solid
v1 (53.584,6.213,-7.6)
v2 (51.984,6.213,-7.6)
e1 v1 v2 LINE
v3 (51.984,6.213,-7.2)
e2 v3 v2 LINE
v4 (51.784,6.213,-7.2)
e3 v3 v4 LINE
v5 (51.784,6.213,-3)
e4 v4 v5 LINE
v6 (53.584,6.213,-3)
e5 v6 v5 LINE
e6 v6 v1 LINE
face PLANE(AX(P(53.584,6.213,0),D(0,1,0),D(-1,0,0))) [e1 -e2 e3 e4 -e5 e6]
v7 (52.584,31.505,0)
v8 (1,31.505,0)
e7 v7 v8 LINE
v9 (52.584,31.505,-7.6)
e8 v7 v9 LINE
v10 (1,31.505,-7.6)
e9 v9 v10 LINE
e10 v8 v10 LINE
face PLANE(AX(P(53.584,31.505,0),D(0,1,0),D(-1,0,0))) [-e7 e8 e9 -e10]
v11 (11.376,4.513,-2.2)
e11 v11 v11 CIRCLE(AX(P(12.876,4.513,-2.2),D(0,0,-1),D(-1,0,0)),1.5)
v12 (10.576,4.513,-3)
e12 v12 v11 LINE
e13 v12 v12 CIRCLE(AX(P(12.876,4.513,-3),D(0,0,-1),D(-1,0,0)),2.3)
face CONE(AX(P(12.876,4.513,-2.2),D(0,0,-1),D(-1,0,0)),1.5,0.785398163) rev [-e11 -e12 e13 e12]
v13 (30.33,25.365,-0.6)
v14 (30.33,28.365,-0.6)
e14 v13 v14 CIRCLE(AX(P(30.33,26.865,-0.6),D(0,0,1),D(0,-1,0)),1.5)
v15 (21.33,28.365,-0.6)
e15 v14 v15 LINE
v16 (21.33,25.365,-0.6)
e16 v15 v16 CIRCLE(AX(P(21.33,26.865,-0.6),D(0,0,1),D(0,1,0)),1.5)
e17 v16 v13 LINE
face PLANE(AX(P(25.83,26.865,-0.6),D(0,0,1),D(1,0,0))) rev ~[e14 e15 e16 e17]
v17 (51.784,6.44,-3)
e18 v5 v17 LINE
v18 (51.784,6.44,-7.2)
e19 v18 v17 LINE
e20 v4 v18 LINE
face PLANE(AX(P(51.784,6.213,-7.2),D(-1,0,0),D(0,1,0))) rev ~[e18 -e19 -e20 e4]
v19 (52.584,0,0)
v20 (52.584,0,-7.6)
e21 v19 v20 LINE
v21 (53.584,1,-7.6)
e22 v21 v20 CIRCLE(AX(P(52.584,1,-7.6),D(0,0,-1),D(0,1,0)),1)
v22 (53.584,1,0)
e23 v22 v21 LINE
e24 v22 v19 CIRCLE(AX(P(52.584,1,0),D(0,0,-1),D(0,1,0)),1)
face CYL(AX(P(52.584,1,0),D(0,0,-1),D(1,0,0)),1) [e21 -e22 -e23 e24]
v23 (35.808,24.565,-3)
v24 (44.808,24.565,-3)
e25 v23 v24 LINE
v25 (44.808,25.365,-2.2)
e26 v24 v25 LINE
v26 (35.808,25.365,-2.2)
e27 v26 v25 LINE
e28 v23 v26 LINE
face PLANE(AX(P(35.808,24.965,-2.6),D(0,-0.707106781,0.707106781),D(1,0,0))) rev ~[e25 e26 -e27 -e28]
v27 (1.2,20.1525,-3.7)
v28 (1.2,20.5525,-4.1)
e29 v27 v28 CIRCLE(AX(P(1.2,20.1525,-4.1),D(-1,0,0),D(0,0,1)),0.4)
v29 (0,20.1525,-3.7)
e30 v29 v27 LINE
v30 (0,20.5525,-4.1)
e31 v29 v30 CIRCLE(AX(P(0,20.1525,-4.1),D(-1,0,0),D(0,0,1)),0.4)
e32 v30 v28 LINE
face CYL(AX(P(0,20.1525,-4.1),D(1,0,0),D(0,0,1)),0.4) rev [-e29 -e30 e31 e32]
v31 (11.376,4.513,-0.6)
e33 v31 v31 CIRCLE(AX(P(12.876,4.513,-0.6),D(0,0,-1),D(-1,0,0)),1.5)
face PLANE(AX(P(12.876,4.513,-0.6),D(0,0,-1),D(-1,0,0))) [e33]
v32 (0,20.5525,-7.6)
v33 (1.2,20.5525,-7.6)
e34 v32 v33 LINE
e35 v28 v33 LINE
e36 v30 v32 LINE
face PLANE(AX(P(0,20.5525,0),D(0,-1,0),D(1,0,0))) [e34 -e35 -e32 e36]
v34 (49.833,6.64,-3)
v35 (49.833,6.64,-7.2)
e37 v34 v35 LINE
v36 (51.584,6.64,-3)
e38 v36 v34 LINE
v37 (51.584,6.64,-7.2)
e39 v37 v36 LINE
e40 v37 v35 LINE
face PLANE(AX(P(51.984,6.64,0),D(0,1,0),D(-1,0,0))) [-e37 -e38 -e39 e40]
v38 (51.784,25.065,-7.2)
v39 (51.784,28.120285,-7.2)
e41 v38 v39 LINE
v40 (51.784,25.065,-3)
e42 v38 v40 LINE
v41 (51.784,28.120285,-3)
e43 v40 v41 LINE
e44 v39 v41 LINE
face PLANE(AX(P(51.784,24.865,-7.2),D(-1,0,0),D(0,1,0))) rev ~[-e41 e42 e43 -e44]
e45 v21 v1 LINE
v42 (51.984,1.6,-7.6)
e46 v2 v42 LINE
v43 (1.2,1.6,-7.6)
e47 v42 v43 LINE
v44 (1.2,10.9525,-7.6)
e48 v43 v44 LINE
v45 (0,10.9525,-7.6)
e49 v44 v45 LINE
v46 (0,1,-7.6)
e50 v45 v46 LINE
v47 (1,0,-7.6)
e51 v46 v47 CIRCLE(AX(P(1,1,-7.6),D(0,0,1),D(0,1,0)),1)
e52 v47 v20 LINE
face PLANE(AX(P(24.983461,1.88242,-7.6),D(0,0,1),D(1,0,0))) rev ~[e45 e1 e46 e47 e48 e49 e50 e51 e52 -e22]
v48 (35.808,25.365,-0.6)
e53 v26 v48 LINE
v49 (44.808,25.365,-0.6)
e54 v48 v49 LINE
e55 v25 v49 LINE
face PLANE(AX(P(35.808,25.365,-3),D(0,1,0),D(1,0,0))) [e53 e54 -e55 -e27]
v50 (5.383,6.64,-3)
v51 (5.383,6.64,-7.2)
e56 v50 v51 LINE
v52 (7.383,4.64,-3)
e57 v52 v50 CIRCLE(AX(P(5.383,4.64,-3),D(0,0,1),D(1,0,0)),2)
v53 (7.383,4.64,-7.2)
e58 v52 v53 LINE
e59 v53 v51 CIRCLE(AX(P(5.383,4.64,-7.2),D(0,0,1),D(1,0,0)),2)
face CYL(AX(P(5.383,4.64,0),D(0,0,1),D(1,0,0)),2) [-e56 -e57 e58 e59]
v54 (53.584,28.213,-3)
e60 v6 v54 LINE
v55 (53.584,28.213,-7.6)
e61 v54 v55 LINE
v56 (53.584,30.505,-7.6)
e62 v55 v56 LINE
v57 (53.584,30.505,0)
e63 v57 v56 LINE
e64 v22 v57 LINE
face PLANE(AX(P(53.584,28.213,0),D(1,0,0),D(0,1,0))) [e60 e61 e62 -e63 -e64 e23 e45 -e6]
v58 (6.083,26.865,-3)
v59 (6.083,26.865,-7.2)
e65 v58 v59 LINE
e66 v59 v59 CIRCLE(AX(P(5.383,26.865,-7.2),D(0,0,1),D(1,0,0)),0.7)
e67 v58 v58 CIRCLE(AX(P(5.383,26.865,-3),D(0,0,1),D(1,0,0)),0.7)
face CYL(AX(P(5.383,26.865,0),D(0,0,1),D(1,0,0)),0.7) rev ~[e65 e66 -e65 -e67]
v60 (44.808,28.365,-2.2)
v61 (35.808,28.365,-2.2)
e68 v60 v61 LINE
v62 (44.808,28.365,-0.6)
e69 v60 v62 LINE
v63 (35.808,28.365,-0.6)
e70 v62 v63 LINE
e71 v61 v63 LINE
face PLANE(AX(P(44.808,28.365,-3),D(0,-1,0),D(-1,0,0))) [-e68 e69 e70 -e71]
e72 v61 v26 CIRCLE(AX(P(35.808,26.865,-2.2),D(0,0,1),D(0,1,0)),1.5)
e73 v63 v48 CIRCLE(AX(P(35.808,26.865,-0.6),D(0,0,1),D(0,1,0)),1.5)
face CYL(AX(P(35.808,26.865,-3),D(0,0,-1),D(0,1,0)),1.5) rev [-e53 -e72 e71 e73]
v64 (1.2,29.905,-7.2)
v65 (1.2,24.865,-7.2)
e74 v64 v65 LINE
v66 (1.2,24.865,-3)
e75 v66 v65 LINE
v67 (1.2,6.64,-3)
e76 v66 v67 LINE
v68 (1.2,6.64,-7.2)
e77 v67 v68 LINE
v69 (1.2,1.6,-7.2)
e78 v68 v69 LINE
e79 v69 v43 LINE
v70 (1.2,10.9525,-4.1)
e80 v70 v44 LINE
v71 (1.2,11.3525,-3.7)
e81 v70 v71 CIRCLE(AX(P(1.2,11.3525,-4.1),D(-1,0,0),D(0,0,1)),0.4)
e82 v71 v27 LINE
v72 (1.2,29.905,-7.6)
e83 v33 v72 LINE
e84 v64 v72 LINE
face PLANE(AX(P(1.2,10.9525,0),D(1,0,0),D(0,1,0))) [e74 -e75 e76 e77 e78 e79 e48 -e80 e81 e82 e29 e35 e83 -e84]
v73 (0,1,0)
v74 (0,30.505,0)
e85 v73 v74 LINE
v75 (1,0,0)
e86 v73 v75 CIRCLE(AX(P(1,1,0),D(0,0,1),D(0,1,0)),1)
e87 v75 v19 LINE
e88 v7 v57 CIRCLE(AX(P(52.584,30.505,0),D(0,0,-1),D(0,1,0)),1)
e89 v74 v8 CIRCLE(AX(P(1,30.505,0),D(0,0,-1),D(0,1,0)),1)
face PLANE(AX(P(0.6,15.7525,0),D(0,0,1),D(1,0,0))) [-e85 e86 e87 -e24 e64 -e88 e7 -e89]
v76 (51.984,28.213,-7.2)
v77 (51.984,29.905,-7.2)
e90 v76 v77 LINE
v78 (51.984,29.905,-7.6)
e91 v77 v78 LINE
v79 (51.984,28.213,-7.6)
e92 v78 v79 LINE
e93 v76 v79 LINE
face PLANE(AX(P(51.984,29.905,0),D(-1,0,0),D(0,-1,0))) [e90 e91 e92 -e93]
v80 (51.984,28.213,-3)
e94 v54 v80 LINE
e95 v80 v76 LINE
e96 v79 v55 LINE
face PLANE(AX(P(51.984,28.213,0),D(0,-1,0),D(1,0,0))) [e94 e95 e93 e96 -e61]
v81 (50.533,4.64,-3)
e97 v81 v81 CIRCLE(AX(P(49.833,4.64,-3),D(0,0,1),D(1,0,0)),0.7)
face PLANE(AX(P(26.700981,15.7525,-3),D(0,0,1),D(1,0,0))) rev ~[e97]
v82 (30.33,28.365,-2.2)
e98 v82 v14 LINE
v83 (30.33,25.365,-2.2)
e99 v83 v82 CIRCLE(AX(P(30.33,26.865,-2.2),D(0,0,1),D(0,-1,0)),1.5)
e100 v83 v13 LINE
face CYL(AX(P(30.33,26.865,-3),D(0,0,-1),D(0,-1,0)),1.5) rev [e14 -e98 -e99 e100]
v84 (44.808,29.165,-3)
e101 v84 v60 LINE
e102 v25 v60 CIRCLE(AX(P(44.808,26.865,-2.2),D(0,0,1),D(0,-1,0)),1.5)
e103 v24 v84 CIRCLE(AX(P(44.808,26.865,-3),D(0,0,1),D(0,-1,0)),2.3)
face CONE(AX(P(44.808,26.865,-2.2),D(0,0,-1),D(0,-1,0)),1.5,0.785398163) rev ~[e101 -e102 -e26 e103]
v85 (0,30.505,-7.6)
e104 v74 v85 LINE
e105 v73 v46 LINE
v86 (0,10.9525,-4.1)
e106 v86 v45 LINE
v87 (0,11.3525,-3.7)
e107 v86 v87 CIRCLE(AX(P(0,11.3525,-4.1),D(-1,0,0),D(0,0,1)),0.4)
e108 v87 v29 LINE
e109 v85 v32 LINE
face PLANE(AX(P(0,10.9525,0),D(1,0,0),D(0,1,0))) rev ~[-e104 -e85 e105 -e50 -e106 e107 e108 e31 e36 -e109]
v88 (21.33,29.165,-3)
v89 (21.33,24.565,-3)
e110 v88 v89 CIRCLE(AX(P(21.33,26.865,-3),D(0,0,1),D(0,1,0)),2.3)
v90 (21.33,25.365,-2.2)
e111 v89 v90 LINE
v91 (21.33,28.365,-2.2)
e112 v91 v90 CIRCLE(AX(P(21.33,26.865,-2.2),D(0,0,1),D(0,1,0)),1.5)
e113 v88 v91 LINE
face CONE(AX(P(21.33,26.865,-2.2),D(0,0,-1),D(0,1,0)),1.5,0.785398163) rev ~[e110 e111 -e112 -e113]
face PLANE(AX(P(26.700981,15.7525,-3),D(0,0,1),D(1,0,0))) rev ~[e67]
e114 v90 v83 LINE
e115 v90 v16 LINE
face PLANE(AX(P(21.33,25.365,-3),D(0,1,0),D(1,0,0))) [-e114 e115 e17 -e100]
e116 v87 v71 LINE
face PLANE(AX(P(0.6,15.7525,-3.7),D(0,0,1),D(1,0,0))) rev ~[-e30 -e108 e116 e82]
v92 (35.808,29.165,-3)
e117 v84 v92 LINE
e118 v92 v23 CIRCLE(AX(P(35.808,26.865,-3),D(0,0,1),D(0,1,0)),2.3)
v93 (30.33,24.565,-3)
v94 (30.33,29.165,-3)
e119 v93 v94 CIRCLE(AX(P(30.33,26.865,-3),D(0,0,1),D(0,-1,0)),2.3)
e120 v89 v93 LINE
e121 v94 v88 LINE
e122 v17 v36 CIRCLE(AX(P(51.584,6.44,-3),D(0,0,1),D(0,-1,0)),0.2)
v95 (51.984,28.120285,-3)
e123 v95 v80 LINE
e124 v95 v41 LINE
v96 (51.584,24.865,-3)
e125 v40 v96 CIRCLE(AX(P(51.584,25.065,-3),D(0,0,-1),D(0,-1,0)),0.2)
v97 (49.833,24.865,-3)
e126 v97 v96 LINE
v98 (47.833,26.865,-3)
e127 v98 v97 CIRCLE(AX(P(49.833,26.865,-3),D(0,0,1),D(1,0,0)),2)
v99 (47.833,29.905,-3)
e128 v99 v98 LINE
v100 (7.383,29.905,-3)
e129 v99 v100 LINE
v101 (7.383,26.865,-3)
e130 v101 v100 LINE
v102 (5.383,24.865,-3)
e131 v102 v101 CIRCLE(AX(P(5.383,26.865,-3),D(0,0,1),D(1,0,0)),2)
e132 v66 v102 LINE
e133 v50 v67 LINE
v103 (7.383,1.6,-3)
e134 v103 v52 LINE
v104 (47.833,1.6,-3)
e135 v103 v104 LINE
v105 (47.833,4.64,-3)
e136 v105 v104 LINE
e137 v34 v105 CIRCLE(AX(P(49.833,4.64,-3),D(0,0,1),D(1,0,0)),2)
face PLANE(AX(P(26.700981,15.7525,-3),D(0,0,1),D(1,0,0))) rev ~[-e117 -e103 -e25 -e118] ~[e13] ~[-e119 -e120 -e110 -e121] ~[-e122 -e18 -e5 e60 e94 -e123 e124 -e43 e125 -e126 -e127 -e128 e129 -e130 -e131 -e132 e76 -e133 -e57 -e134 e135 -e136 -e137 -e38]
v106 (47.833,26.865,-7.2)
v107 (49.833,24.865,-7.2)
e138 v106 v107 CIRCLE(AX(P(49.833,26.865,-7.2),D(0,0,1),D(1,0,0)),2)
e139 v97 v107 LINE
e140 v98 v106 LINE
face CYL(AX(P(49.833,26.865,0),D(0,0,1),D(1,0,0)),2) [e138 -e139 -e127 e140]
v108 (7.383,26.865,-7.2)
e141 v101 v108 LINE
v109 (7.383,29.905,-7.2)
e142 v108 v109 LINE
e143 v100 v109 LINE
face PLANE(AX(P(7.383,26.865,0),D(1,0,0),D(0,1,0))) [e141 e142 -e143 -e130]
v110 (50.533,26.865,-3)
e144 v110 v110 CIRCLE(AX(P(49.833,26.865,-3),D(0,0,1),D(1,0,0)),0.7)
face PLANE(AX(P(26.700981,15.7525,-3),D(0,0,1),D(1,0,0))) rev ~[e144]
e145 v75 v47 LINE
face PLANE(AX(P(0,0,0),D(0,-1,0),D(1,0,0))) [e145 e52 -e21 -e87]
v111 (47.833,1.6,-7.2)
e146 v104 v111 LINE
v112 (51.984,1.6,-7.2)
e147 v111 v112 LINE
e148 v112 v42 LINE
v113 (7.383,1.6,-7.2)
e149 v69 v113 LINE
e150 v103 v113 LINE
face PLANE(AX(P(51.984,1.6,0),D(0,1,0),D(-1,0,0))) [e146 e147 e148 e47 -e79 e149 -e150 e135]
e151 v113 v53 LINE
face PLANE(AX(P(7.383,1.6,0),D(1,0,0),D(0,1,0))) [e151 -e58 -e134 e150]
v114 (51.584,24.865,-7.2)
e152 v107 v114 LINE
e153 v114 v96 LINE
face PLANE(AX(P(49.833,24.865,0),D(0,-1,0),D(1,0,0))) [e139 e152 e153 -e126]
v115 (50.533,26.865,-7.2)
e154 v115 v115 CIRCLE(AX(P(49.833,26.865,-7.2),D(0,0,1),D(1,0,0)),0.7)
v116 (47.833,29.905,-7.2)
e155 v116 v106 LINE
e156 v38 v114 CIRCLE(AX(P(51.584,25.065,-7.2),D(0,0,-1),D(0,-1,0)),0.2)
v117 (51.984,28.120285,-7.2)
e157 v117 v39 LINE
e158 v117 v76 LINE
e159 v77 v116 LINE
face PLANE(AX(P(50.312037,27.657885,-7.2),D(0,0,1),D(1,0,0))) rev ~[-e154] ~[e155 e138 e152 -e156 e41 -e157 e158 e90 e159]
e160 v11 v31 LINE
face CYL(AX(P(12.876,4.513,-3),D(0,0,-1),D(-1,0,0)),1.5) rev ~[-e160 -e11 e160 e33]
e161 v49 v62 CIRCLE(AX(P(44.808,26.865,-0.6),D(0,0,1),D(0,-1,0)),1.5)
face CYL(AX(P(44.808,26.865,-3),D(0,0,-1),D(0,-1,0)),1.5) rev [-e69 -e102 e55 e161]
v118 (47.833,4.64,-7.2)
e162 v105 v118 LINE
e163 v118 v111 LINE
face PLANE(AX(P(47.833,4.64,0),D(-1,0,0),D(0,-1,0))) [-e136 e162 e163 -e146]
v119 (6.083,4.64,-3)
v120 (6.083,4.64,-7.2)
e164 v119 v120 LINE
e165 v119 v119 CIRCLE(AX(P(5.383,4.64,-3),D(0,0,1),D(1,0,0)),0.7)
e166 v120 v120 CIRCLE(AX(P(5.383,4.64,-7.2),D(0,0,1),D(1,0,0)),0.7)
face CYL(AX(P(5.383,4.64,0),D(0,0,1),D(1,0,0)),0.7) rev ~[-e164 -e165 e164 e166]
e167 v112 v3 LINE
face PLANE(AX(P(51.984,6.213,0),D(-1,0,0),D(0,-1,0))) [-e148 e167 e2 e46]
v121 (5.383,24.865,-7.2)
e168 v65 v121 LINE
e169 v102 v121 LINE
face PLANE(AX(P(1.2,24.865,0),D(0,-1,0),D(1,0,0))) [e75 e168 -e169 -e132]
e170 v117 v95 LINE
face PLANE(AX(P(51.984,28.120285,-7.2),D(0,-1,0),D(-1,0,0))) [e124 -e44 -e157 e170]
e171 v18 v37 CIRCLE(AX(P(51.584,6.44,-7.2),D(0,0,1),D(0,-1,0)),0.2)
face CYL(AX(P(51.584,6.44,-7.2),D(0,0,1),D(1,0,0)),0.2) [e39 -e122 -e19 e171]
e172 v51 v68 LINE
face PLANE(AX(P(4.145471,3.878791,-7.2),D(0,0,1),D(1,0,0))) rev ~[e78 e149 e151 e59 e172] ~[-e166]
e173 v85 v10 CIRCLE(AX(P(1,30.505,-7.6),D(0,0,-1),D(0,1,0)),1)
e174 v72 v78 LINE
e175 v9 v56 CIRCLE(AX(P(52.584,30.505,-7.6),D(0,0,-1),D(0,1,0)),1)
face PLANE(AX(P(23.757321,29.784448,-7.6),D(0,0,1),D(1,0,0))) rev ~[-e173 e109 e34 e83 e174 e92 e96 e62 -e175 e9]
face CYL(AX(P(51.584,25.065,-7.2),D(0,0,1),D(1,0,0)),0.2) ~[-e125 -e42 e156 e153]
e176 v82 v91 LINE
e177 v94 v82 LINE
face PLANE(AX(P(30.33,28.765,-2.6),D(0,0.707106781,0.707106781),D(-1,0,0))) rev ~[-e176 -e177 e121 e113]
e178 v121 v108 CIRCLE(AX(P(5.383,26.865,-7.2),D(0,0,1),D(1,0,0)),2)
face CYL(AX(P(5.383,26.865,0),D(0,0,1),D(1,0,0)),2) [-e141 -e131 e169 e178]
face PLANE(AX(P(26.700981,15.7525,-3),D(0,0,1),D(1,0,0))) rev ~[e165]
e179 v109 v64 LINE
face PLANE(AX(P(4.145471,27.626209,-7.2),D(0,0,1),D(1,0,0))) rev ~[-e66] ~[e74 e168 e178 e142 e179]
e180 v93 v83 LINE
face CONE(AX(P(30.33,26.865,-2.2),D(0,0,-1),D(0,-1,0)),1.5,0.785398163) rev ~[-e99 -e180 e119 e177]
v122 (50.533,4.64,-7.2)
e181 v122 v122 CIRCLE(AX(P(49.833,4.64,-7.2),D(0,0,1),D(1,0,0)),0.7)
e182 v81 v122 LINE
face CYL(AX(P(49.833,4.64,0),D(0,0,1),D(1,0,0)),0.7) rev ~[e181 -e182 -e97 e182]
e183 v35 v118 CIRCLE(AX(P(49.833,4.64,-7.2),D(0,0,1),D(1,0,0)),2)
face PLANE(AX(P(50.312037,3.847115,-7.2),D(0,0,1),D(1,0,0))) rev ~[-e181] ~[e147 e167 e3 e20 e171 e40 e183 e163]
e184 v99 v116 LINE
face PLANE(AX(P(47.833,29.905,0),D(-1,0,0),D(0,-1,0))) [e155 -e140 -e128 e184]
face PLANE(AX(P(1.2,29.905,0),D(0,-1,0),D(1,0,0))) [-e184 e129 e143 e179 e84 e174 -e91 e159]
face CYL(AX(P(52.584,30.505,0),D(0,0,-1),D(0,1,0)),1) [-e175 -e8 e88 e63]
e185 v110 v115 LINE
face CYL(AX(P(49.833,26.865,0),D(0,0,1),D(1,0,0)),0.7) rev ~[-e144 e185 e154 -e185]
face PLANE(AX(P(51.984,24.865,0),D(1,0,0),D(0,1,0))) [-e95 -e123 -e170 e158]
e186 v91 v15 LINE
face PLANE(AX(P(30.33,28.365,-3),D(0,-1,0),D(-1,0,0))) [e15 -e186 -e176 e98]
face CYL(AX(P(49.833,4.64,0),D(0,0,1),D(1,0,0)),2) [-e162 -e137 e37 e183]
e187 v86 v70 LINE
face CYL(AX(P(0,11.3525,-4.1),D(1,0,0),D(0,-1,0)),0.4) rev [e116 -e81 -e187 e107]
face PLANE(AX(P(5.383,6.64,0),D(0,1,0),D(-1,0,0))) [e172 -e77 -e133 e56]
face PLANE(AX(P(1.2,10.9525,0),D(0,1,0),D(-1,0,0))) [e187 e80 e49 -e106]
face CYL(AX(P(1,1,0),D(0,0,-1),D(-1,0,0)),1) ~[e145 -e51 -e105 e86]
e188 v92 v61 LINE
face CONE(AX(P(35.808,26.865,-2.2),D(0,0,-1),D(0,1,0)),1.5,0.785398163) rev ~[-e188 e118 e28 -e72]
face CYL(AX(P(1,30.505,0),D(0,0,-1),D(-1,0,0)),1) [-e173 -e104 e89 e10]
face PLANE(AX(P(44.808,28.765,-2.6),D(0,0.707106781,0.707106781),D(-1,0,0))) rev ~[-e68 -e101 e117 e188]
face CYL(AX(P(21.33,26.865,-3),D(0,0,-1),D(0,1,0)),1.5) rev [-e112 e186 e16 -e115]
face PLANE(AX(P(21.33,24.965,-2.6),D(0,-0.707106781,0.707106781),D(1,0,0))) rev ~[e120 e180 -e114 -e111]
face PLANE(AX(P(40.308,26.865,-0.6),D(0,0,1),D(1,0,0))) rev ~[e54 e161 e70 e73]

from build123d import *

# Parameters (mm, degrees)
SKETCH_1_R          = 2
SKETCH_1_R_2        = 0.7
EXTRUDE_5_DEPTH     = 3
EXTRUDE_6_DEPTH     = 7.6
SKETCH_1_8_R        = 2
SKETCH_1_8_R_2      = 0.7
EXTRUDE_7_DEPTH     = 7.2
SKETCH_1_9_W        = 1.2
SKETCH_1_9_H        = 9.6
EXTRUDE_8_DEPTH     = 3.7
FILLET_1_R          = 1
SKETCH_2_R          = 1.5
CUT_EXTRUDE_1_DEPTH = 2.4
CHAMFER_1_SIZE      = 0.8
FILLET_2_R          = 0.4
SKETCH_3_W          = 0.2
SKETCH_3_H          = 3.255284899
SKETCH_3_H_2        = 0.427
CUT_EXTRUDE_2_DEPTH = 4.2
FILLET_3_R          = 0.2


with BuildPart() as part:
    # Эскиз1 → Бобышка-Вытянуть5 (new body)
    with BuildSketch(Plane.XY):
        with BuildLine():
            Line((1.2, 20.5525), (1.2, 10.9525))
            Line((1.2, 10.9525), (1.2, 6.64))
            Line((1.2, 6.64), (5.383, 6.64))
            ThreePointArc((5.383, 6.64), (6.797213562, 6.054213562), (7.383, 4.64))
            Line((7.383, 4.64), (7.383, 1.6))
            Line((7.383, 1.6), (47.833, 1.6))
            Line((47.833, 1.6), (47.833, 4.64))
            ThreePointArc((47.833, 4.64), (48.418786438, 6.054213562), (49.833, 6.64))
            Line((49.833, 6.64), (51.984, 6.64))
            Line((51.984, 6.64), (51.984, 24.865))
            Line((51.984, 24.865), (49.833, 24.865))
            ThreePointArc((49.833, 24.865), (48.418786438, 25.450786438), (47.833, 26.865))
            Line((47.833, 26.865), (47.833, 29.905))
            Line((47.833, 29.905), (7.383, 29.905))
            Line((7.383, 29.905), (7.383, 26.865))
            ThreePointArc((7.383, 26.865), (6.797213562, 25.450786438), (5.383, 24.865))
            Line((5.383, 24.865), (1.2, 24.865))
            Line((1.2, 24.865), (1.2, 20.5525))
        make_face()
        Polygon((51.984, 6.213), (53.584, 6.213), (53.584, 28.213), (51.984, 28.213), (51.984, 24.865), (51.984, 6.64), align=None)
        with BuildLine():
            Line((51.984, 24.865), (51.984, 28.213))
            Line((51.984, 28.213), (51.984, 29.905))
            Line((51.984, 29.905), (47.833, 29.905))
            Line((47.833, 29.905), (47.833, 26.865))
            ThreePointArc((47.833, 26.865), (49.833, 28.865), (51.833, 26.865))
            ThreePointArc((51.833, 26.865), (51.247213562, 25.450786438), (49.833, 24.865))
            Line((49.833, 24.865), (51.984, 24.865))
        make_face()
        with Locations((49.833, 26.865)):
            Circle(SKETCH_1_R)
        with Locations((49.833, 26.865)):
            Circle(SKETCH_1_R_2, mode=Mode.SUBTRACT)
        with Locations((49.833, 26.865)):
            Circle(SKETCH_1_R_2)
        with BuildLine():
            Line((1.2, 29.905), (1.2, 24.865))
            Line((1.2, 24.865), (5.383, 24.865))
            ThreePointArc((5.383, 24.865), (3.968786438, 28.279213562), (7.383, 26.865))
            Line((7.383, 26.865), (7.383, 29.905))
            Line((7.383, 29.905), (1.2, 29.905))
        make_face()
        with Locations((5.383, 26.865)):
            Circle(SKETCH_1_R)
        with Locations((5.383, 26.865)):
            Circle(SKETCH_1_R_2, mode=Mode.SUBTRACT)
        with Locations((5.383, 26.865)):
            Circle(SKETCH_1_R_2)
        with BuildLine():
            Line((5.383, 6.64), (1.2, 6.64))
            Line((1.2, 6.64), (1.2, 1.6))
            Line((1.2, 1.6), (7.383, 1.6))
            Line((7.383, 1.6), (7.383, 4.64))
            ThreePointArc((7.383, 4.64), (3.968786438, 3.225786438), (5.383, 6.64))
        make_face()
        with Locations((5.383, 4.64)):
            Circle(SKETCH_1_R)
        with Locations((5.383, 4.64)):
            Circle(SKETCH_1_R_2, mode=Mode.SUBTRACT)
        with Locations((5.383, 4.64)):
            Circle(SKETCH_1_R_2)
        with BuildLine():
            Line((51.984, 1.6), (51.984, 6.213))
            Line((51.984, 6.213), (51.984, 6.64))
            Line((51.984, 6.64), (49.833, 6.64))
            ThreePointArc((49.833, 6.64), (51.247213562, 6.054213562), (51.833, 4.64))
            ThreePointArc((51.833, 4.64), (49.833, 2.64), (47.833, 4.64))
            Line((47.833, 4.64), (47.833, 1.6))
            Line((47.833, 1.6), (51.984, 1.6))
        make_face()
        with Locations((49.833, 4.64)):
            Circle(SKETCH_1_R)
        with Locations((49.833, 4.64)):
            Circle(SKETCH_1_R_2, mode=Mode.SUBTRACT)
        with Locations((49.833, 4.64)):
            Circle(SKETCH_1_R_2)
    extrude(amount=-EXTRUDE_5_DEPTH)

    # Эскиз1<7> → Бобышка-Вытянуть6 (add)
    with BuildSketch(Plane.XY):
        Polygon((0, 31.505), (0, 20.5525), (1.2, 20.5525), (1.2, 24.865), (1.2, 29.905), (7.383, 29.905), (47.833, 29.905), (51.984, 29.905), (51.984, 28.213), (53.584, 28.213), (53.584, 31.505), align=None)
        Polygon((0, 10.9525), (0, 0), (53.584, 0), (53.584, 6.213), (51.984, 6.213), (51.984, 1.6), (47.833, 1.6), (7.383, 1.6), (1.2, 1.6), (1.2, 6.64), (1.2, 10.9525), align=None)
    extrude(amount=-EXTRUDE_6_DEPTH)

    # Эскиз1<8> → Бобышка-Вытянуть7 (add)
    with BuildSketch(Plane.XY):
        with BuildLine():
            Line((51.984, 24.865), (51.984, 28.213))
            Line((51.984, 28.213), (51.984, 29.905))
            Line((51.984, 29.905), (47.833, 29.905))
            Line((47.833, 29.905), (47.833, 26.865))
            ThreePointArc((47.833, 26.865), (49.833, 28.865), (51.833, 26.865))
            ThreePointArc((51.833, 26.865), (51.247213562, 25.450786438), (49.833, 24.865))
            Line((49.833, 24.865), (51.984, 24.865))
        make_face()
        with Locations((49.833, 26.865)):
            Circle(SKETCH_1_8_R)
        with Locations((49.833, 26.865)):
            Circle(SKETCH_1_8_R_2, mode=Mode.SUBTRACT)
        with BuildLine():
            Line((1.2, 29.905), (1.2, 24.865))
            Line((1.2, 24.865), (5.383, 24.865))
            ThreePointArc((5.383, 24.865), (3.968786438, 28.279213562), (7.383, 26.865))
            Line((7.383, 26.865), (7.383, 29.905))
            Line((7.383, 29.905), (1.2, 29.905))
        make_face()
        with Locations((5.383, 26.865)):
            Circle(SKETCH_1_8_R)
        with Locations((5.383, 26.865)):
            Circle(SKETCH_1_8_R_2, mode=Mode.SUBTRACT)
        with BuildLine():
            Line((51.984, 1.6), (51.984, 6.213))
            Line((51.984, 6.213), (51.984, 6.64))
            Line((51.984, 6.64), (49.833, 6.64))
            ThreePointArc((49.833, 6.64), (51.247213562, 6.054213562), (51.833, 4.64))
            ThreePointArc((51.833, 4.64), (49.833, 2.64), (47.833, 4.64))
            Line((47.833, 4.64), (47.833, 1.6))
            Line((47.833, 1.6), (51.984, 1.6))
        make_face()
        with Locations((49.833, 4.64)):
            Circle(SKETCH_1_8_R)
        with Locations((49.833, 4.64)):
            Circle(SKETCH_1_8_R_2, mode=Mode.SUBTRACT)
        with BuildLine():
            Line((5.383, 6.64), (1.2, 6.64))
            Line((1.2, 6.64), (1.2, 1.6))
            Line((1.2, 1.6), (7.383, 1.6))
            Line((7.383, 1.6), (7.383, 4.64))
            ThreePointArc((7.383, 4.64), (3.968786438, 3.225786438), (5.383, 6.64))
        make_face()
        with Locations((5.383, 4.64)):
            Circle(SKETCH_1_8_R)
        with Locations((5.383, 4.64)):
            Circle(SKETCH_1_8_R_2, mode=Mode.SUBTRACT)
    extrude(amount=-EXTRUDE_7_DEPTH)

    # Эскиз1<9> → Бобышка-Вытянуть8 (add)
    with BuildSketch(Plane.XY):
        with Locations((0.6, 15.7525)):
            Rectangle(SKETCH_1_9_W, SKETCH_1_9_H)
    extrude(amount=-EXTRUDE_8_DEPTH)

    # Скругление1
    fillet_1_edges = [part.edges().sort_by_distance(p)[0] for p in [
        (0, 31.505, -3.8),
        (53.584, 31.505, -3.8),
        (53.584, 0, -3.8),
        (0, 0, -3.8),
    ]]
    fillet(fillet_1_edges, radius=FILLET_1_R)

    # Эскиз2 → Вырез-Вытянуть1 (cut)
    with BuildSketch(Plane(origin=(0, 0, -3), x_dir=(-1, 0, 0), z_dir=(0, 0, -1))):
        with Locations((-12.876, 4.513)):
            Circle(SKETCH_2_R)
        with BuildLine():
            Line((-44.808, 28.365), (-35.808, 28.365))
            ThreePointArc((-35.808, 28.365), (-34.308, 26.865), (-35.808, 25.365))
            Line((-35.808, 25.365), (-44.808, 25.365))
            ThreePointArc((-44.808, 25.365), (-46.308, 26.865), (-44.808, 28.365))
        make_face()
        with BuildLine():
            Line((-30.33, 28.365), (-21.33, 28.365))
            ThreePointArc((-21.33, 28.365), (-19.83, 26.865), (-21.33, 25.365))
            Line((-21.33, 25.365), (-30.33, 25.365))
            ThreePointArc((-30.33, 25.365), (-31.83, 26.865), (-30.33, 28.365))
        make_face()
    extrude(amount=-CUT_EXTRUDE_1_DEPTH, mode=Mode.SUBTRACT)

    # Фаска1
    chamfer_1_edges = [part.edges().sort_by_distance(p)[0] for p in [
        (46.308, 26.865, -3),
        (40.308, 25.365, -3),
        (34.308, 26.865, -3),
        (40.308, 28.365, -3),
        (31.83, 26.865, -3),
        (25.83, 25.365, -3),
        (19.83, 26.865, -3),
        (25.83, 28.365, -3),
        (14.376, 4.513, -3),
    ]]
    chamfer(chamfer_1_edges, length=CHAMFER_1_SIZE)

    # Скругление2
    fillet_2_edges = [part.edges().sort_by_distance(p)[0] for p in [
        (0.6, 20.5525, -3.7),
        (0.6, 10.9525, -3.7),
    ]]
    fillet(fillet_2_edges, radius=FILLET_2_R)

    # Эскиз3 → Вырез-Вытянуть2 (cut)
    with BuildSketch(Plane(origin=(0, 0, -7.2), x_dir=(-1, 0, 0), z_dir=(0, 0, -1))):
        with Locations((-51.884, 26.49264245)):
            Rectangle(SKETCH_3_W, SKETCH_3_H)
        with Locations((-51.884, 6.4265)):
            Rectangle(SKETCH_3_W, SKETCH_3_H_2)
    extrude(amount=-CUT_EXTRUDE_2_DEPTH, mode=Mode.SUBTRACT)

    # Скругление3
    fillet_3_edges = [part.edges().sort_by_distance(p)[0] for p in [
        (51.784, 24.865, -5.1),
        (51.784, 6.64, -5.1),
    ]]
    fillet(fillet_3_edges, radius=FILLET_3_R)


solid = part.part
